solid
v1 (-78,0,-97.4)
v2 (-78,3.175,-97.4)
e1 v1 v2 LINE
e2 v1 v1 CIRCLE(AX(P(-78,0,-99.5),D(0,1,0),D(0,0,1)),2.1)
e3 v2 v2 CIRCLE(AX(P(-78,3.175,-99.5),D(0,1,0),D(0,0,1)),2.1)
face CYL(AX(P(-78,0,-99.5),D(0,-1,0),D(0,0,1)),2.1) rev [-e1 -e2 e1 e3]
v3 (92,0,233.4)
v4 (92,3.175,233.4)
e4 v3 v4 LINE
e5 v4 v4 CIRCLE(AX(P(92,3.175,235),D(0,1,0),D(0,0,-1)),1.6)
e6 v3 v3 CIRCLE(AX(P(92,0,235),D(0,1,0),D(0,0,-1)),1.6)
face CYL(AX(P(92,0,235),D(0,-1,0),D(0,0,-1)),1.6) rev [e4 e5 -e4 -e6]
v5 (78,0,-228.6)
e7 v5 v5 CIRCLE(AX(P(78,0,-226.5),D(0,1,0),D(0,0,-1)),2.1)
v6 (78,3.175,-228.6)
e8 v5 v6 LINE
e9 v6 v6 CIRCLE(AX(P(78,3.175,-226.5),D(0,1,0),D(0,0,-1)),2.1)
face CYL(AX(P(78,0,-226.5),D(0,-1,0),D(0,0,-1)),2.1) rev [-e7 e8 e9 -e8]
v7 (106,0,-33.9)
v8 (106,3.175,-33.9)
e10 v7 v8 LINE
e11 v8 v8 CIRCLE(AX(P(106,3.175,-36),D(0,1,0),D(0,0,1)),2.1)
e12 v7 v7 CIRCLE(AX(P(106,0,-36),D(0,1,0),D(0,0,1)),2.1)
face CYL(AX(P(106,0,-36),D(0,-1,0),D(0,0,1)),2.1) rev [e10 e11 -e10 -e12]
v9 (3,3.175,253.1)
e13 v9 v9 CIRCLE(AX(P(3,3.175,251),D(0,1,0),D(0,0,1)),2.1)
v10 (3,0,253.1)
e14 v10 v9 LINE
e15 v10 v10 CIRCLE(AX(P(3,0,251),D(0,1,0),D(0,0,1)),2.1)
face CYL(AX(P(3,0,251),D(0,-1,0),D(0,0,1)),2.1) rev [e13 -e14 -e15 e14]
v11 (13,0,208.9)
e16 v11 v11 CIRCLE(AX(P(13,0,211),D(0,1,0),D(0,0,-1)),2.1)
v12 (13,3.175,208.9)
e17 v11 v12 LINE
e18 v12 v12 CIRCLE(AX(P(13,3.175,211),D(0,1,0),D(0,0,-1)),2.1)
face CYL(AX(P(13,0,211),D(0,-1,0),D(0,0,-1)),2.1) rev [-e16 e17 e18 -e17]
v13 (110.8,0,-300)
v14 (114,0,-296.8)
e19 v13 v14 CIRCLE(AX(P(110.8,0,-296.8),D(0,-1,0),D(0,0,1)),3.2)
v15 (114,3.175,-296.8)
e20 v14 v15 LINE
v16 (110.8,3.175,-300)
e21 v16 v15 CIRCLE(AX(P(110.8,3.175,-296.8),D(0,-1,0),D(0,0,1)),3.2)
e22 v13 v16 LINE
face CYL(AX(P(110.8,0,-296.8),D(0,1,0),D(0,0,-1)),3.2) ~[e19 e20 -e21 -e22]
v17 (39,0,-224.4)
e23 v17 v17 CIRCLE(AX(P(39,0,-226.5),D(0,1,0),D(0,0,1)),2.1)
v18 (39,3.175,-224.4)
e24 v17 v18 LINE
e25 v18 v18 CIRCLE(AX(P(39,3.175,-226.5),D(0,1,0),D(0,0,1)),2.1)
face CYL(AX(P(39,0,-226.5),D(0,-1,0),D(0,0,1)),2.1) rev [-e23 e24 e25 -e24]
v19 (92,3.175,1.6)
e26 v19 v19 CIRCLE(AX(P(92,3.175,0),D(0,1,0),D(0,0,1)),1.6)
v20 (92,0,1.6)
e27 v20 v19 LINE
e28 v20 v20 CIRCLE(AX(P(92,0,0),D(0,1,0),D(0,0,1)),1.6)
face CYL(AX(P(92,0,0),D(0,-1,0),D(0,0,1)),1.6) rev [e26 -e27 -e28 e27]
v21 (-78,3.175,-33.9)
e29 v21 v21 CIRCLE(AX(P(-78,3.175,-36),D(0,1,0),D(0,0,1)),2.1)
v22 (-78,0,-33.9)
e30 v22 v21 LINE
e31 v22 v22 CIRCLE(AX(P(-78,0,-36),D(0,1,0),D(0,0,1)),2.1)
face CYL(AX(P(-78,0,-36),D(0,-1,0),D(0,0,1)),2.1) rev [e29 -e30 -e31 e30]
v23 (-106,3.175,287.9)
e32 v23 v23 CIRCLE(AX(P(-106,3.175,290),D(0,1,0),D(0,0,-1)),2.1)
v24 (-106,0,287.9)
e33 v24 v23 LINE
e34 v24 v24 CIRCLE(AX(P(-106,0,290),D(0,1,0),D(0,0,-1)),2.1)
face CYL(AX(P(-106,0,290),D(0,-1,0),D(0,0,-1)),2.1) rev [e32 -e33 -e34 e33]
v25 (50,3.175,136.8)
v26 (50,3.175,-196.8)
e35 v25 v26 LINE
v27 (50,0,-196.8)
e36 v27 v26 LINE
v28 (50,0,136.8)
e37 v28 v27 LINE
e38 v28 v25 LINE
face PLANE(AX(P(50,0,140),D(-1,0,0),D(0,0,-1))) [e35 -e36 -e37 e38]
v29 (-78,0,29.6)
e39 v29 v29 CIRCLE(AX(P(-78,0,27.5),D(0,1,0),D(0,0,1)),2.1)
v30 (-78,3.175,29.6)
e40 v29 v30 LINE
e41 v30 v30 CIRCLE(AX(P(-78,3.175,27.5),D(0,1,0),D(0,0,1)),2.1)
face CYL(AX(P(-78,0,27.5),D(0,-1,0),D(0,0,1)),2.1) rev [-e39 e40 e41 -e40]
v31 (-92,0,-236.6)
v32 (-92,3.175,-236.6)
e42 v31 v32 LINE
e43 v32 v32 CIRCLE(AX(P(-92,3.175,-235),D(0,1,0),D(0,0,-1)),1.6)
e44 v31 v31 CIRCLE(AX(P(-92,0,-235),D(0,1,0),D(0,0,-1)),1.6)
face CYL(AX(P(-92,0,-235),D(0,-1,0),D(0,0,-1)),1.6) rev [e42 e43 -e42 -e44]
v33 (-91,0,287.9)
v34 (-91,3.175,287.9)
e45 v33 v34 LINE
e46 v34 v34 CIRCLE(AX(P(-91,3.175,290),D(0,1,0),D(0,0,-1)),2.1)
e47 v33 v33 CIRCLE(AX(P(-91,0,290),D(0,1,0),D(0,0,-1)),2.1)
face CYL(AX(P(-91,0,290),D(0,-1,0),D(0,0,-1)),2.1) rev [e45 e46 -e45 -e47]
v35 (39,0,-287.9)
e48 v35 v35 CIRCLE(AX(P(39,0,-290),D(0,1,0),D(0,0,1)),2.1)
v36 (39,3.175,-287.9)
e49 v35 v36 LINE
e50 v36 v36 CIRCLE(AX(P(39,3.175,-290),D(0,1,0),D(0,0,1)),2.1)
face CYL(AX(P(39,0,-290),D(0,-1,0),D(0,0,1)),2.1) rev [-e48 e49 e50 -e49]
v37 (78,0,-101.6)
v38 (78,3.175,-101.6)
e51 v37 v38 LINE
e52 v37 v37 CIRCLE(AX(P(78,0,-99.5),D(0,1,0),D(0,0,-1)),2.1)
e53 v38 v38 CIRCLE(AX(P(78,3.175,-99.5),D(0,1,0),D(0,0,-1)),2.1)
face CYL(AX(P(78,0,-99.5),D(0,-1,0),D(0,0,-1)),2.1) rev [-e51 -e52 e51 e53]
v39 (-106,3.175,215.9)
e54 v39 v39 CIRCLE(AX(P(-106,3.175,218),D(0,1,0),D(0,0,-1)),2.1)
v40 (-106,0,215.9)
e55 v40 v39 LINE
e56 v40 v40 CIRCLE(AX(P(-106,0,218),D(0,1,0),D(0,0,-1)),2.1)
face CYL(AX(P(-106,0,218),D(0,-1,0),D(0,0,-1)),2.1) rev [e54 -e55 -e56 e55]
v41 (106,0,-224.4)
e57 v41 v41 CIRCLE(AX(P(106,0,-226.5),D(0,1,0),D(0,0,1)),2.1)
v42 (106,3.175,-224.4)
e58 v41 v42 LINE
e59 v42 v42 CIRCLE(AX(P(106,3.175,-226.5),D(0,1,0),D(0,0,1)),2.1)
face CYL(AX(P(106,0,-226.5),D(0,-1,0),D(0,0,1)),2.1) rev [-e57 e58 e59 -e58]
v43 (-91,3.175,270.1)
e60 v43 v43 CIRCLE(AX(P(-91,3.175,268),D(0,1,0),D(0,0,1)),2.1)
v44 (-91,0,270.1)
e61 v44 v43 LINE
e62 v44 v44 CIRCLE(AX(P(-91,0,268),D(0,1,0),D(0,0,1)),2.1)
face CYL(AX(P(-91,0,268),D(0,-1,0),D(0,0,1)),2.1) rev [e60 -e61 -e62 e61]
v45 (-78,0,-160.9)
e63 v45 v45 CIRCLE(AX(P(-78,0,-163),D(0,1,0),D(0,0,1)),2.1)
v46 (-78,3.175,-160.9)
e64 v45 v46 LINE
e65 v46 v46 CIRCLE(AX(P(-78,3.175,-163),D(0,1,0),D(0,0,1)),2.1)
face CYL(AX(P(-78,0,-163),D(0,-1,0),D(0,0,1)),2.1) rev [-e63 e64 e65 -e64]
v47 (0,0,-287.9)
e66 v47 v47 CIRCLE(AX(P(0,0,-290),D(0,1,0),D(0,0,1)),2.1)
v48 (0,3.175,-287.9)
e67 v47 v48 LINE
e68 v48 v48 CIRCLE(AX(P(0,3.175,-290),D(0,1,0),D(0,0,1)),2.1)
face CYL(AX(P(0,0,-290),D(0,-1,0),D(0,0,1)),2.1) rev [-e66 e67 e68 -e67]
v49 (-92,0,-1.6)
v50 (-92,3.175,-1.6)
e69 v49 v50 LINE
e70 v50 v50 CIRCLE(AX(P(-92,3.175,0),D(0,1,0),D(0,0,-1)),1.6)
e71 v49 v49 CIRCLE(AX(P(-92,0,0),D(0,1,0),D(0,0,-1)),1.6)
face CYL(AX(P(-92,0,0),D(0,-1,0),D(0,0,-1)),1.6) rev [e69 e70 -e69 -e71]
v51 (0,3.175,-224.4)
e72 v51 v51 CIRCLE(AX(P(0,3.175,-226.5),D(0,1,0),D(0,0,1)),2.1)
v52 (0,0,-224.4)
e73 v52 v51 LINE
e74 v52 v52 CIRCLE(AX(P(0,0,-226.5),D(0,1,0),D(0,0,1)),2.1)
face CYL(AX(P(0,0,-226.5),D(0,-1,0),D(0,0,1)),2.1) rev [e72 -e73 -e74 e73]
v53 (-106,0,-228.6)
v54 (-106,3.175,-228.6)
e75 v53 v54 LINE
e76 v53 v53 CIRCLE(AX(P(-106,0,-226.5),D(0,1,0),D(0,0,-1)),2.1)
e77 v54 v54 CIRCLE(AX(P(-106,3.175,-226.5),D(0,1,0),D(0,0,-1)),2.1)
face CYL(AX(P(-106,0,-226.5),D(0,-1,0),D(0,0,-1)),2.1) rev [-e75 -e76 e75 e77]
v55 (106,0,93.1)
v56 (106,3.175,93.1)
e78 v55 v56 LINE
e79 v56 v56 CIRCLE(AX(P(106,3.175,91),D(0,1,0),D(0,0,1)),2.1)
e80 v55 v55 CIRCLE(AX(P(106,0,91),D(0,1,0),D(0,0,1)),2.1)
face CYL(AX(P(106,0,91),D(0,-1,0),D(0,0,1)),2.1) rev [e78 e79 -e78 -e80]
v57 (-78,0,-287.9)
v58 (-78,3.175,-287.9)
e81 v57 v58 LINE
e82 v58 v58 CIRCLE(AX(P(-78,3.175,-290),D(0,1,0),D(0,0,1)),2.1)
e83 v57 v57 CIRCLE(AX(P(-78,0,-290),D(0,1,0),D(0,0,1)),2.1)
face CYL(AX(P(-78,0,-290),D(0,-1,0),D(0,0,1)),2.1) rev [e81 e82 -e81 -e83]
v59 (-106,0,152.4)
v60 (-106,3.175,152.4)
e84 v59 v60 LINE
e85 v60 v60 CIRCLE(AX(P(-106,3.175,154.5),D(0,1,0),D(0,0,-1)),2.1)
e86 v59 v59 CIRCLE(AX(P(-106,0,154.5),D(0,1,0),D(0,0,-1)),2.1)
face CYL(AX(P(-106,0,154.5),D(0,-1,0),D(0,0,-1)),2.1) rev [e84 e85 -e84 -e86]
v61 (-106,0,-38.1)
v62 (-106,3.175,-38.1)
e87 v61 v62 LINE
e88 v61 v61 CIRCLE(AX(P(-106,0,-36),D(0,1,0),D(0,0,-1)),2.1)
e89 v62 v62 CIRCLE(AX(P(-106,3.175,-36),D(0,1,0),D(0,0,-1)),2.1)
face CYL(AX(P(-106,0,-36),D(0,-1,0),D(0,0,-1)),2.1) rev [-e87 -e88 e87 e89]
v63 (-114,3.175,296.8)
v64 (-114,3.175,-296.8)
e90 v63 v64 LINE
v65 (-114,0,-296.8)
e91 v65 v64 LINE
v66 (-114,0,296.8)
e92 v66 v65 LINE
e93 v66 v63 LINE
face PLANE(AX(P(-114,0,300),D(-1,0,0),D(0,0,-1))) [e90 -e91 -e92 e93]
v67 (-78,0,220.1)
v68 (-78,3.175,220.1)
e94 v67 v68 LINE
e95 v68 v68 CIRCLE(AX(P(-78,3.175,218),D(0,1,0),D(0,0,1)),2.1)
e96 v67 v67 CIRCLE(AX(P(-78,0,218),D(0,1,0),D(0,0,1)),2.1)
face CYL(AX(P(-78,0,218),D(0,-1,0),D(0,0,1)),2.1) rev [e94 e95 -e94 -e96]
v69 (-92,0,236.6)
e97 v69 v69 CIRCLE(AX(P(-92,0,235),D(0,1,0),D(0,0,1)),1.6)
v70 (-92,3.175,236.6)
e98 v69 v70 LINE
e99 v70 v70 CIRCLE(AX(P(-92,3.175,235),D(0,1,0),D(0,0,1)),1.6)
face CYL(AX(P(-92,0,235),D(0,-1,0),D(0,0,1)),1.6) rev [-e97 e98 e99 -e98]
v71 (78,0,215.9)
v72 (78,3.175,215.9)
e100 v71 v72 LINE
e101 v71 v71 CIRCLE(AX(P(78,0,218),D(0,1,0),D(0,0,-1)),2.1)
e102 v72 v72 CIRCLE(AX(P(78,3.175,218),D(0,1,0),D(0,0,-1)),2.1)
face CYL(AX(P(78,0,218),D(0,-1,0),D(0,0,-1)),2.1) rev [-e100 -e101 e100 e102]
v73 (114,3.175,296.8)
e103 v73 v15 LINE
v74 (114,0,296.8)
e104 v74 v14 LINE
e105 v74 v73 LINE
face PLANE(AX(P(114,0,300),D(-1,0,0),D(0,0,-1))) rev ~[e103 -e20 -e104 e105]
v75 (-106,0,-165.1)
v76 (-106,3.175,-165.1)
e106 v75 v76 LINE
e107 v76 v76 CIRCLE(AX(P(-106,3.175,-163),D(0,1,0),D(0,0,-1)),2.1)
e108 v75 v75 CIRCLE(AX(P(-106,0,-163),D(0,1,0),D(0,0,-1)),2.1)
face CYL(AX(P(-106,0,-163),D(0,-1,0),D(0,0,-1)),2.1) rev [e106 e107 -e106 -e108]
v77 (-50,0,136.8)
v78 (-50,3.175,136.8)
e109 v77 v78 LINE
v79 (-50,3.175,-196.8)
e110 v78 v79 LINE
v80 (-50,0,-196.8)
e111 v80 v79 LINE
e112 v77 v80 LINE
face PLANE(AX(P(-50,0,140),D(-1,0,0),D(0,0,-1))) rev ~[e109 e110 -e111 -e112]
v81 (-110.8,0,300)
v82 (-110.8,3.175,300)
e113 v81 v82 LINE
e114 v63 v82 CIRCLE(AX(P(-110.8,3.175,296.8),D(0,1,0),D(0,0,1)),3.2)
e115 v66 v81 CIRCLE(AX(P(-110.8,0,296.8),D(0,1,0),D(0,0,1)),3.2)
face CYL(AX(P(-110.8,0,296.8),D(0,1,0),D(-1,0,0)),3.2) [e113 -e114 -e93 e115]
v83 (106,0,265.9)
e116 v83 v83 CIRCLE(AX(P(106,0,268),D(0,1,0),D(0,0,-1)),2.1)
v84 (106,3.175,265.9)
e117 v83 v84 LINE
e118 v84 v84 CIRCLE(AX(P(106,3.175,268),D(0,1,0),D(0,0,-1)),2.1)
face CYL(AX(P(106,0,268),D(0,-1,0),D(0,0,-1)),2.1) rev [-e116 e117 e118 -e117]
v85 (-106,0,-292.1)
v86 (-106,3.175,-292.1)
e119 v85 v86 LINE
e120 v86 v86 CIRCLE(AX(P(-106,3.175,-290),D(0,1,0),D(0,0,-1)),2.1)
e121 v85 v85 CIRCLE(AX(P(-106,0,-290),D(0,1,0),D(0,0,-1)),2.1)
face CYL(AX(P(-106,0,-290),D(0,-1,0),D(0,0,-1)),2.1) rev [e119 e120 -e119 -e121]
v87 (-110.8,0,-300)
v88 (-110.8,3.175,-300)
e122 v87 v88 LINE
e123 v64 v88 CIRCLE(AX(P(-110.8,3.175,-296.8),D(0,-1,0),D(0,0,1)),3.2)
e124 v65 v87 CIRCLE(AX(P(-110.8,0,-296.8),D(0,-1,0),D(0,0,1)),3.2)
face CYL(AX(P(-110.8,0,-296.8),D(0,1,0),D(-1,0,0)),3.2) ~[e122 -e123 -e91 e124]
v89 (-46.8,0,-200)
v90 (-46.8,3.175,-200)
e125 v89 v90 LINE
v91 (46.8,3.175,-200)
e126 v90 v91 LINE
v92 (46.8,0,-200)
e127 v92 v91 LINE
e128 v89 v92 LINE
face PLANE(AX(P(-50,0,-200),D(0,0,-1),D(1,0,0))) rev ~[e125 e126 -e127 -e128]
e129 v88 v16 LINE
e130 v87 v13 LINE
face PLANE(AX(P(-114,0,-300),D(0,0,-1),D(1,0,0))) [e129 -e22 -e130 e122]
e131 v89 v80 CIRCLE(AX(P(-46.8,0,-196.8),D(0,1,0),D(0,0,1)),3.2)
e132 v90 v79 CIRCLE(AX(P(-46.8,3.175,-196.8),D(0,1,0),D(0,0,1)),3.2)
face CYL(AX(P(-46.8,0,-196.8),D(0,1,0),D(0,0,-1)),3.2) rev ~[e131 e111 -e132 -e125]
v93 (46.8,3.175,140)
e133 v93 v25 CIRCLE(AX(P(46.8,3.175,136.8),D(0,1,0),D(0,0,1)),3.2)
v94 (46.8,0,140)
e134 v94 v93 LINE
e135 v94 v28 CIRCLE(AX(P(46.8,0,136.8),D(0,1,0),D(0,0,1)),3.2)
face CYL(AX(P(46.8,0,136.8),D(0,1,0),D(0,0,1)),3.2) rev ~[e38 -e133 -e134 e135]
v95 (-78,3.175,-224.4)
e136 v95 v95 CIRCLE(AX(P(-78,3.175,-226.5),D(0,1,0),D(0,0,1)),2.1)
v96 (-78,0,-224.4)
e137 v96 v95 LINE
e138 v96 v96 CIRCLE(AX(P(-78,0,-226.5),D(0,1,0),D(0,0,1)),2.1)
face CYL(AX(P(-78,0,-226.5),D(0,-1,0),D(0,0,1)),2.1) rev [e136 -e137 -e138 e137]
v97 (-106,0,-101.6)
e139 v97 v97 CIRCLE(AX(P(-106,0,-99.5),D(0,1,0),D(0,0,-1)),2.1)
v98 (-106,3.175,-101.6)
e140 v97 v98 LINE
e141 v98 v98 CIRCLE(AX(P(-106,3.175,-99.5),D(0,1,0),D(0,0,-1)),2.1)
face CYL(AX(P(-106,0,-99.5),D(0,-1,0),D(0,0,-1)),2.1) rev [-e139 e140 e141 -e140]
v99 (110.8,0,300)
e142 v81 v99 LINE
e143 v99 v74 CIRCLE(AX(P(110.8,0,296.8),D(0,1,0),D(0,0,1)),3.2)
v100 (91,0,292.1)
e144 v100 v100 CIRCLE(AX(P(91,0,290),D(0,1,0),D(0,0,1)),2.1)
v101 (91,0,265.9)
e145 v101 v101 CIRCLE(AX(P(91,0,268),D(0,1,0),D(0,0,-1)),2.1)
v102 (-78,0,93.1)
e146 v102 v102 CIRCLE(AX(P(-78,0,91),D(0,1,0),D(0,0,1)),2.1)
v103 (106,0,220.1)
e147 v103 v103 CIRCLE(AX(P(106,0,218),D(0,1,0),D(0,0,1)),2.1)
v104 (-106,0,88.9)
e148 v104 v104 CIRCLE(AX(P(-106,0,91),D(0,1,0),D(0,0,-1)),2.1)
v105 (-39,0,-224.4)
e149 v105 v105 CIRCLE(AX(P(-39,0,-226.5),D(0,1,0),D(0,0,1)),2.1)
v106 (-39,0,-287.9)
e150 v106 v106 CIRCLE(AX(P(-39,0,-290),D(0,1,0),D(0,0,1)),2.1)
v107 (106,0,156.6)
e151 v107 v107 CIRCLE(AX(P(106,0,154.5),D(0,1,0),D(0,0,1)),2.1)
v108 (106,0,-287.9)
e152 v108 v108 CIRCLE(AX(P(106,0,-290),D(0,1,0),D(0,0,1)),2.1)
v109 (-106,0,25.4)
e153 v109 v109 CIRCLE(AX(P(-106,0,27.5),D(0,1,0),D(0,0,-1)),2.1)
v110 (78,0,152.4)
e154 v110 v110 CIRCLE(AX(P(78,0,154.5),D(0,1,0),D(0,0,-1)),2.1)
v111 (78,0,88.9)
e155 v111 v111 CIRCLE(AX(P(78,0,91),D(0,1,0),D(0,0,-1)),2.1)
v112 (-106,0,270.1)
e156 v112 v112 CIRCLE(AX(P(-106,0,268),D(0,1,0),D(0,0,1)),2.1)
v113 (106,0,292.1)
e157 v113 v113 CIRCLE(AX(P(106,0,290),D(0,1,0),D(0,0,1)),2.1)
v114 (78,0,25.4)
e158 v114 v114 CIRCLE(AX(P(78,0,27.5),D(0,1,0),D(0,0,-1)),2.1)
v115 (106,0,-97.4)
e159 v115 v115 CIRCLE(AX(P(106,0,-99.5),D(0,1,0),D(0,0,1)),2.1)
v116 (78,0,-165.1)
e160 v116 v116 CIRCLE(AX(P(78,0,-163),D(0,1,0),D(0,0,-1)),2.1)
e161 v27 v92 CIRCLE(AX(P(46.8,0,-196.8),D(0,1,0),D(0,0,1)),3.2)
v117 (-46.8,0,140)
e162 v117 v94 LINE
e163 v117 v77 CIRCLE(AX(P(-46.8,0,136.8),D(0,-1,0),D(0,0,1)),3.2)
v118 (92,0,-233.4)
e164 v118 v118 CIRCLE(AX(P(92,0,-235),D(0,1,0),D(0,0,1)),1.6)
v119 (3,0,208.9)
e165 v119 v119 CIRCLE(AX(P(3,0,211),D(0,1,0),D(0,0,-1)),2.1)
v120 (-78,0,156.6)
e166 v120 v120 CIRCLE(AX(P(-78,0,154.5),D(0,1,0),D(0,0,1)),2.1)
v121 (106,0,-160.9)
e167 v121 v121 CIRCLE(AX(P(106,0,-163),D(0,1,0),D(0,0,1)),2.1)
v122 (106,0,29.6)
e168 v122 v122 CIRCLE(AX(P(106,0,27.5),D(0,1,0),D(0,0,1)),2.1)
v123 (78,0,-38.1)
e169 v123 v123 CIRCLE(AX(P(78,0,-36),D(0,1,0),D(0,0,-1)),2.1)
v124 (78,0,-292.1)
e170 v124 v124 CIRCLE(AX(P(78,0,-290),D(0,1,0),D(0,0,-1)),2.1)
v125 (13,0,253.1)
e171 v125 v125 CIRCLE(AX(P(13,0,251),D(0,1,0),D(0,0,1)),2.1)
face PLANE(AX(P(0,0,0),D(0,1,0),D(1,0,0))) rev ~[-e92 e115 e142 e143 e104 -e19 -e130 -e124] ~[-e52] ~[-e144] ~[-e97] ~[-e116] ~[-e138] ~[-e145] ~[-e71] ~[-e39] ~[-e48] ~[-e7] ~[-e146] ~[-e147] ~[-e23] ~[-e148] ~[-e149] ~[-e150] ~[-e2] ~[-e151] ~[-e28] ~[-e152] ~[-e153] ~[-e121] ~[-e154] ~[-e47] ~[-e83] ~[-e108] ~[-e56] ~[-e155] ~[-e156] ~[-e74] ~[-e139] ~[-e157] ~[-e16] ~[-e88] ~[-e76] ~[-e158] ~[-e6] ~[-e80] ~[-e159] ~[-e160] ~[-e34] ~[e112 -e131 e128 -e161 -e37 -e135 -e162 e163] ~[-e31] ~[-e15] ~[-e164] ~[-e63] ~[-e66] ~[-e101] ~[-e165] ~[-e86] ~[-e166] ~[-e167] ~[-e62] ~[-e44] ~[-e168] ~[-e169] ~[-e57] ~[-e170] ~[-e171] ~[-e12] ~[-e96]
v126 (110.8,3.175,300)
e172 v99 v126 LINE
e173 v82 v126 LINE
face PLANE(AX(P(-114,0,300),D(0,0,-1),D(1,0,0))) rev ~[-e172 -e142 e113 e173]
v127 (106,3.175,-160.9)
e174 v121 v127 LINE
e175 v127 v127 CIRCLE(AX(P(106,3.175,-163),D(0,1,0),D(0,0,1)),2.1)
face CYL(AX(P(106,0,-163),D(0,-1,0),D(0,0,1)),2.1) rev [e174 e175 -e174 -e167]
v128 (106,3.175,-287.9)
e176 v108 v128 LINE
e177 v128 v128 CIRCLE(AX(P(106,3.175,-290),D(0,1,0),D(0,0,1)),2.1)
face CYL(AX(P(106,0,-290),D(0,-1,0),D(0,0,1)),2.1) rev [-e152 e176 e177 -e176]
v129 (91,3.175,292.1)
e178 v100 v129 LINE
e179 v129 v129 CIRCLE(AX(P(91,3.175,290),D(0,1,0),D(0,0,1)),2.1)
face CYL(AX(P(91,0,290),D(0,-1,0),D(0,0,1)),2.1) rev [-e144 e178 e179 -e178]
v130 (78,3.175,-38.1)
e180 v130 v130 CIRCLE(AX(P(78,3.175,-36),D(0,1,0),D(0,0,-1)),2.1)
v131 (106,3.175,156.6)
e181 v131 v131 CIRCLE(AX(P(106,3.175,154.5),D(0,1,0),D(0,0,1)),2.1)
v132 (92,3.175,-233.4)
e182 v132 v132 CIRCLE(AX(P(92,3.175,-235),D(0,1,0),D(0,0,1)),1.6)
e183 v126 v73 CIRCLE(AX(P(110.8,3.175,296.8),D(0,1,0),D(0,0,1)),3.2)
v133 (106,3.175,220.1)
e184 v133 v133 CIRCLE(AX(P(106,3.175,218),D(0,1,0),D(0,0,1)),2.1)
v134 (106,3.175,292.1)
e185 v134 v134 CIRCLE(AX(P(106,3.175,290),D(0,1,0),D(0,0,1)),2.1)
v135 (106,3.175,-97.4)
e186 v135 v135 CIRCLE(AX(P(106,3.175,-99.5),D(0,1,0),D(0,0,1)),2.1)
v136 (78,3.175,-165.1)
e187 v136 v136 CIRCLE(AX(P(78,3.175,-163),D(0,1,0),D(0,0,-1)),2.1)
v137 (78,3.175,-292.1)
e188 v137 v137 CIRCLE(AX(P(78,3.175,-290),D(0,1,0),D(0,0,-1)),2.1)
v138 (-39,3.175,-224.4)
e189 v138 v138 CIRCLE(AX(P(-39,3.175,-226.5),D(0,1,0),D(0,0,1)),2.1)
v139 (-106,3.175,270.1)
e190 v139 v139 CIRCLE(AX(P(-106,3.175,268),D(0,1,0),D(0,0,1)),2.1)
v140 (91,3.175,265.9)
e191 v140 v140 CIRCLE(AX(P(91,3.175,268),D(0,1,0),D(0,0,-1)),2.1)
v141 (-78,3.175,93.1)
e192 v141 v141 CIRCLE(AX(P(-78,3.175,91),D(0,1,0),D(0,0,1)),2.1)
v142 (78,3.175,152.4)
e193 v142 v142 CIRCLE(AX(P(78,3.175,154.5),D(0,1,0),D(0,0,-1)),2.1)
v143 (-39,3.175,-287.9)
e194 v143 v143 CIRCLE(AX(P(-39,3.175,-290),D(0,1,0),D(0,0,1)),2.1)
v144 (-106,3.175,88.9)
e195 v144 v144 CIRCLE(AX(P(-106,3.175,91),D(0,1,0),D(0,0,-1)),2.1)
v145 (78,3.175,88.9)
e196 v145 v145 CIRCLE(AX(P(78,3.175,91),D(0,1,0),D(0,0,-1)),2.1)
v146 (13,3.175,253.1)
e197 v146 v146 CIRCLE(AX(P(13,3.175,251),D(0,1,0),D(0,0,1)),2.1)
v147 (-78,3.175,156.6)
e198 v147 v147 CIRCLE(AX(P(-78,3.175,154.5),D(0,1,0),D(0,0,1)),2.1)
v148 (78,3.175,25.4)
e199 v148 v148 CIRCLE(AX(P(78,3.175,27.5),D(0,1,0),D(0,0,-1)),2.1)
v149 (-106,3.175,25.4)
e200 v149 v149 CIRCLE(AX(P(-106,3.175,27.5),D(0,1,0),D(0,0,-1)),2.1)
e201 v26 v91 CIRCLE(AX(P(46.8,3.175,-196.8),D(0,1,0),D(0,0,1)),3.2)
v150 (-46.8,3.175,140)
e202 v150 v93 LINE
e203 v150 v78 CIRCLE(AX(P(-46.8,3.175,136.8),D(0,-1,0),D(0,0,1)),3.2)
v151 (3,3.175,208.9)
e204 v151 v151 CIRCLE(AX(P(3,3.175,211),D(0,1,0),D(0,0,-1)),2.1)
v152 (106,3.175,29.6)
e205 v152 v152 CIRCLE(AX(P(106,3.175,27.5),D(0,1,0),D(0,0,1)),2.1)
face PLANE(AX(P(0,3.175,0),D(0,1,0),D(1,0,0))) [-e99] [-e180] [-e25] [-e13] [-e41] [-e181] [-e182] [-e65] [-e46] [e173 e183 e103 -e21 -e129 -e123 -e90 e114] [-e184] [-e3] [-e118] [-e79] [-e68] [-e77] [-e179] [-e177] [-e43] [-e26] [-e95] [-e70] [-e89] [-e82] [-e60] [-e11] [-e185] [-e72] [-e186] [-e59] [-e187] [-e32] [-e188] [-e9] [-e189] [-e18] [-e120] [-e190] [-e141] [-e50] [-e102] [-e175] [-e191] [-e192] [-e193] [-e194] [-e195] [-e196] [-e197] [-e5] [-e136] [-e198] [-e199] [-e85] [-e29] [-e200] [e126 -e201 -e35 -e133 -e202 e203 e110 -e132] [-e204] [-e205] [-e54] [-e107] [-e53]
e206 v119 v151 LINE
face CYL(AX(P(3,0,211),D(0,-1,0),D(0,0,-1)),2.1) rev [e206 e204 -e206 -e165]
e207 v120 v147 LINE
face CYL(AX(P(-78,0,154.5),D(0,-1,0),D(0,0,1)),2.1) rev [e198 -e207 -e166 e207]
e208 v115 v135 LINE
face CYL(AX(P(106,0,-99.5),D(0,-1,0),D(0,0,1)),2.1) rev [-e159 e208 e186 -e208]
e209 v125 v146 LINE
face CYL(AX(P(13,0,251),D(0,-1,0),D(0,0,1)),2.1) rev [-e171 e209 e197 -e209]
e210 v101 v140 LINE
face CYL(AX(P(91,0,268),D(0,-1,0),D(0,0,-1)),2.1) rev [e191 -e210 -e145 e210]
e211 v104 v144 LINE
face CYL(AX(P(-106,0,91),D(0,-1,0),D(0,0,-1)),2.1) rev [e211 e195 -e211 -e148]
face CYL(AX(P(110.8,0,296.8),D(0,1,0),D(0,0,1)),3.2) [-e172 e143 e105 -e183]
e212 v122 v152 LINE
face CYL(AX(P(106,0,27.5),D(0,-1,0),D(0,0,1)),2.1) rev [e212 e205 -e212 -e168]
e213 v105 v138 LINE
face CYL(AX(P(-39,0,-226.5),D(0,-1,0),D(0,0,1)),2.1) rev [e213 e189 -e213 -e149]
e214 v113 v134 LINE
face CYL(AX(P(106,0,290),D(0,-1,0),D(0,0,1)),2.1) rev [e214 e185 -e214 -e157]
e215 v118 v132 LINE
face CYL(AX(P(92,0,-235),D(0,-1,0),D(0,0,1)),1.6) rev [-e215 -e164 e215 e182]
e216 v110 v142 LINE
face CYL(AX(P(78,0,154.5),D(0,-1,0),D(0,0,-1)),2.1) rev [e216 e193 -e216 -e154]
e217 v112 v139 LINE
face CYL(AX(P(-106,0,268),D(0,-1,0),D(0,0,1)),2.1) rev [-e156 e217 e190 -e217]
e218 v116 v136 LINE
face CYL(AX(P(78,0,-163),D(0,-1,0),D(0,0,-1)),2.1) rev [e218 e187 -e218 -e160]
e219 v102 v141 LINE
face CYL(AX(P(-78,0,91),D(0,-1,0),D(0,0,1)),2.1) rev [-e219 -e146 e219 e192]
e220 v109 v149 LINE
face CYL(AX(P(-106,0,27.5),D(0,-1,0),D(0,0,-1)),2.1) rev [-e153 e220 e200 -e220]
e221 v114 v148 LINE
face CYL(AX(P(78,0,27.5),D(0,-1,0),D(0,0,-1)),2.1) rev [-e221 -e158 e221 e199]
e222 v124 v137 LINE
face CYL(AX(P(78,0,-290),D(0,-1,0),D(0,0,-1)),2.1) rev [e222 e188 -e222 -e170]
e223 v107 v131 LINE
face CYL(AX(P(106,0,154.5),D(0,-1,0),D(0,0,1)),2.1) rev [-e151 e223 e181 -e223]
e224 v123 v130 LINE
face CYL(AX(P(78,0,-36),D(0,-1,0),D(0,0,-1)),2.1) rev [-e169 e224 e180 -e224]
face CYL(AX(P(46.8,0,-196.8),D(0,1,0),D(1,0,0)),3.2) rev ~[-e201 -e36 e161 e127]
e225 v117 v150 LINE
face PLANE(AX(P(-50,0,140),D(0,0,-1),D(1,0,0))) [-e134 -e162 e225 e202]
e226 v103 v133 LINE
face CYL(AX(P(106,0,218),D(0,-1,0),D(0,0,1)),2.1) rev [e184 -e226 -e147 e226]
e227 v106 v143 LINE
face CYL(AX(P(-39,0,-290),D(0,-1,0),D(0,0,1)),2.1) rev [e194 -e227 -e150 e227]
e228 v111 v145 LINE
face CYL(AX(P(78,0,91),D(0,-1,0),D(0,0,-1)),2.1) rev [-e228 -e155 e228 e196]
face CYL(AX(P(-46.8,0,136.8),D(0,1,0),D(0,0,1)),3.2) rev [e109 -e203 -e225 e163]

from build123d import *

# Parameters (mm, degrees)
SKETCH1_W           = 228
SKETCH1_H           = 600
SKETCH1_R           = 2.1
SKETCH1_R_2         = 1.6
SKETCH1_W_2         = 100
SKETCH1_H_2         = 340
BOSS_EXTRUDE1_DEPTH = 3.175
FILLET1_R           = 3.2


with BuildPart() as part:
    # Sketch1 → Boss-Extrude1 (new body)
    with BuildSketch(Plane(origin=(0, 0, 0), x_dir=(1, 0, 0), z_dir=(0, 1, 0))):
        Rectangle(SKETCH1_W, SKETCH1_H)
        with Locations(Location((106, 290, 0), (0, 0, 270))):
            Circle(SKETCH1_R, mode=Mode.SUBTRACT)
        with Locations(Location((106, -290, 0), (0, 0, 270))):
            Circle(SKETCH1_R, mode=Mode.SUBTRACT)
        with Locations(Location((78, 290, 0), (0, 0, 90))):
            Circle(SKETCH1_R, mode=Mode.SUBTRACT)
        with Locations(Location((92, 0, 0), (0, 0, 270))):
            Circle(SKETCH1_R_2, mode=Mode.SUBTRACT)
        with Locations(Location((92, 235, 0), (0, 0, 270))):
            Circle(SKETCH1_R_2, mode=Mode.SUBTRACT)
        with Locations(Location((92, -235, 0), (0, 0, 90))):
            Circle(SKETCH1_R_2, mode=Mode.SUBTRACT)
        with Locations(Location((-92, -235, 0), (0, 0, 270))):
            Circle(SKETCH1_R_2, mode=Mode.SUBTRACT)
        with Locations(Location((-106, -290, 0), (0, 0, 90))):
            Circle(SKETCH1_R, mode=Mode.SUBTRACT)
        with Locations(Location((91, -290, 0), (0, 0, 270))):
            Circle(SKETCH1_R, mode=Mode.SUBTRACT)
        with Locations(Location((91, -268, 0), (0, 0, 90))):
            Circle(SKETCH1_R, mode=Mode.SUBTRACT)
        with Locations(Location((106, -268, 0), (0, 0, 90))):
            Circle(SKETCH1_R, mode=Mode.SUBTRACT)
        with Locations(Location((-91, -290, 0), (0, 0, 90))):
            Circle(SKETCH1_R, mode=Mode.SUBTRACT)
        with Locations(Location((-106, -268, 0), (0, 0, 270))):
            Circle(SKETCH1_R, mode=Mode.SUBTRACT)
        with Locations(Location((-91, -268, 0), (0, 0, 270))):
            Circle(SKETCH1_R, mode=Mode.SUBTRACT)
        with Locations(Location((13, -251, 0), (0, 0, 270))):
            Circle(SKETCH1_R, mode=Mode.SUBTRACT)
        with Locations(Location((3, -251, 0), (0, 0, 270))):
            Circle(SKETCH1_R, mode=Mode.SUBTRACT)
        with Locations(Location((13, -211, 0), (0, 0, 90))):
            Circle(SKETCH1_R, mode=Mode.SUBTRACT)
        with Locations(Location((3, -211, 0), (0, 0, 90))):
            Circle(SKETCH1_R, mode=Mode.SUBTRACT)
        with Locations(Location((-39, 290, 0), (0, 0, 270))):
            Circle(SKETCH1_R, mode=Mode.SUBTRACT)
        with Locations(Location((-39, 226.5, 0), (0, 0, 270))):
            Circle(SKETCH1_R, mode=Mode.SUBTRACT)
        with Locations(Location((106, 226.5, 0), (0, 0, 270))):
            Circle(SKETCH1_R, mode=Mode.SUBTRACT)
        with Locations(Location((106, 163, 0), (0, 0, 270))):
            Circle(SKETCH1_R, mode=Mode.SUBTRACT)
        with Locations(Location((106, 99.5, 0), (0, 0, 270))):
            Circle(SKETCH1_R, mode=Mode.SUBTRACT)
        with Locations(Location((106, 36, 0), (0, 0, 270))):
            Circle(SKETCH1_R, mode=Mode.SUBTRACT)
        with Locations(Location((106, -27.5, 0), (0, 0, 270))):
            Circle(SKETCH1_R, mode=Mode.SUBTRACT)
        with Locations(Location((106, -91, 0), (0, 0, 270))):
            Circle(SKETCH1_R, mode=Mode.SUBTRACT)
        with Locations(Location((106, -154.5, 0), (0, 0, 270))):
            Circle(SKETCH1_R, mode=Mode.SUBTRACT)
        with Locations(Location((106, -218, 0), (0, 0, 270))):
            Circle(SKETCH1_R, mode=Mode.SUBTRACT)
        with Locations(Location((78, 226.5, 0), (0, 0, 90))):
            Circle(SKETCH1_R, mode=Mode.SUBTRACT)
        with Locations(Location((78, 163, 0), (0, 0, 90))):
            Circle(SKETCH1_R, mode=Mode.SUBTRACT)
        with Locations(Location((78, 99.5, 0), (0, 0, 90))):
            Circle(SKETCH1_R, mode=Mode.SUBTRACT)
        with Locations(Location((78, 36, 0), (0, 0, 90))):
            Circle(SKETCH1_R, mode=Mode.SUBTRACT)
        with Locations(Location((78, -27.5, 0), (0, 0, 90))):
            Circle(SKETCH1_R, mode=Mode.SUBTRACT)
        with Locations(Location((78, -91, 0), (0, 0, 90))):
            Circle(SKETCH1_R, mode=Mode.SUBTRACT)
        with Locations(Location((78, -154.5, 0), (0, 0, 90))):
            Circle(SKETCH1_R, mode=Mode.SUBTRACT)
        with Locations(Location((78, -218, 0), (0, 0, 90))):
            Circle(SKETCH1_R, mode=Mode.SUBTRACT)
        with Locations(Location((-78, -218, 0), (0, 0, 270))):
            Circle(SKETCH1_R, mode=Mode.SUBTRACT)
        with Locations(Location((-78, -154.5, 0), (0, 0, 270))):
            Circle(SKETCH1_R, mode=Mode.SUBTRACT)
        with Locations(Location((-106, -218, 0), (0, 0, 90))):
            Circle(SKETCH1_R, mode=Mode.SUBTRACT)
        with Locations(Location((-106, -154.5, 0), (0, 0, 90))):
            Circle(SKETCH1_R, mode=Mode.SUBTRACT)
        with Locations(Location((-78, -91, 0), (0, 0, 270))):
            Circle(SKETCH1_R, mode=Mode.SUBTRACT)
        with Locations(Location((-78, -27.5, 0), (0, 0, 270))):
            Circle(SKETCH1_R, mode=Mode.SUBTRACT)
        with Locations(Location((-106, -91, 0), (0, 0, 90))):
            Circle(SKETCH1_R, mode=Mode.SUBTRACT)
        with Locations(Location((-106, -27.5, 0), (0, 0, 90))):
            Circle(SKETCH1_R, mode=Mode.SUBTRACT)
        with Locations(Location((-78, 36, 0), (0, 0, 270))):
            Circle(SKETCH1_R, mode=Mode.SUBTRACT)
        with Locations(Location((-78, 99.5, 0), (0, 0, 270))):
            Circle(SKETCH1_R, mode=Mode.SUBTRACT)
        with Locations(Location((-106, 36, 0), (0, 0, 90))):
            Circle(SKETCH1_R, mode=Mode.SUBTRACT)
        with Locations(Location((-106, 99.5, 0), (0, 0, 90))):
            Circle(SKETCH1_R, mode=Mode.SUBTRACT)
        with Locations(Location((-78, 163, 0), (0, 0, 270))):
            Circle(SKETCH1_R, mode=Mode.SUBTRACT)
        with Locations(Location((-106, 163, 0), (0, 0, 90))):
            Circle(SKETCH1_R, mode=Mode.SUBTRACT)
        with Locations(Location((-78, 226.5, 0), (0, 0, 270))):
            Circle(SKETCH1_R, mode=Mode.SUBTRACT)
        with Locations(Location((-106, 226.5, 0), (0, 0, 90))):
            Circle(SKETCH1_R, mode=Mode.SUBTRACT)
        with Locations(Location((-92, 235, 0), (0, 0, 90))):
            Circle(SKETCH1_R_2, mode=Mode.SUBTRACT)
        with Locations(Location((-106, 290, 0), (0, 0, 90))):
            Circle(SKETCH1_R, mode=Mode.SUBTRACT)
        with Locations(Location((-78, 290, 0), (0, 0, 270))):
            Circle(SKETCH1_R, mode=Mode.SUBTRACT)
        with Locations(Location((-92, 0, 0), (0, 0, 90))):
            Circle(SKETCH1_R_2, mode=Mode.SUBTRACT)
        with Locations(Location((0, 290, 0), (0, 0, 270))):
            Circle(SKETCH1_R, mode=Mode.SUBTRACT)
        with Locations(Location((0, 226.5, 0), (0, 0, 270))):
            Circle(SKETCH1_R, mode=Mode.SUBTRACT)
        with Locations(Location((39, 290, 0), (0, 0, 270))):
            Circle(SKETCH1_R, mode=Mode.SUBTRACT)
        with Locations(Location((39, 226.5, 0), (0, 0, 270))):
            Circle(SKETCH1_R, mode=Mode.SUBTRACT)
        with Locations((0, 30)):
            Rectangle(SKETCH1_W_2, SKETCH1_H_2, mode=Mode.SUBTRACT)
    extrude(amount=BOSS_EXTRUDE1_DEPTH)

    # Fillet1
    fillet1_edges = [part.edges().sort_by_distance(p)[0] for p in [
        (50, 1.5875, 140),
        (50, 1.5875, -200),
        (-50, 1.5875, -200),
        (-50, 1.5875, 140),
        (114, 1.5875, 300),
        (-114, 1.5875, 300),
        (-114, 1.5875, -300),
        (114, 1.5875, -300),
    ]]
    fillet(fillet1_edges, radius=FILLET1_R)


solid = part.part
